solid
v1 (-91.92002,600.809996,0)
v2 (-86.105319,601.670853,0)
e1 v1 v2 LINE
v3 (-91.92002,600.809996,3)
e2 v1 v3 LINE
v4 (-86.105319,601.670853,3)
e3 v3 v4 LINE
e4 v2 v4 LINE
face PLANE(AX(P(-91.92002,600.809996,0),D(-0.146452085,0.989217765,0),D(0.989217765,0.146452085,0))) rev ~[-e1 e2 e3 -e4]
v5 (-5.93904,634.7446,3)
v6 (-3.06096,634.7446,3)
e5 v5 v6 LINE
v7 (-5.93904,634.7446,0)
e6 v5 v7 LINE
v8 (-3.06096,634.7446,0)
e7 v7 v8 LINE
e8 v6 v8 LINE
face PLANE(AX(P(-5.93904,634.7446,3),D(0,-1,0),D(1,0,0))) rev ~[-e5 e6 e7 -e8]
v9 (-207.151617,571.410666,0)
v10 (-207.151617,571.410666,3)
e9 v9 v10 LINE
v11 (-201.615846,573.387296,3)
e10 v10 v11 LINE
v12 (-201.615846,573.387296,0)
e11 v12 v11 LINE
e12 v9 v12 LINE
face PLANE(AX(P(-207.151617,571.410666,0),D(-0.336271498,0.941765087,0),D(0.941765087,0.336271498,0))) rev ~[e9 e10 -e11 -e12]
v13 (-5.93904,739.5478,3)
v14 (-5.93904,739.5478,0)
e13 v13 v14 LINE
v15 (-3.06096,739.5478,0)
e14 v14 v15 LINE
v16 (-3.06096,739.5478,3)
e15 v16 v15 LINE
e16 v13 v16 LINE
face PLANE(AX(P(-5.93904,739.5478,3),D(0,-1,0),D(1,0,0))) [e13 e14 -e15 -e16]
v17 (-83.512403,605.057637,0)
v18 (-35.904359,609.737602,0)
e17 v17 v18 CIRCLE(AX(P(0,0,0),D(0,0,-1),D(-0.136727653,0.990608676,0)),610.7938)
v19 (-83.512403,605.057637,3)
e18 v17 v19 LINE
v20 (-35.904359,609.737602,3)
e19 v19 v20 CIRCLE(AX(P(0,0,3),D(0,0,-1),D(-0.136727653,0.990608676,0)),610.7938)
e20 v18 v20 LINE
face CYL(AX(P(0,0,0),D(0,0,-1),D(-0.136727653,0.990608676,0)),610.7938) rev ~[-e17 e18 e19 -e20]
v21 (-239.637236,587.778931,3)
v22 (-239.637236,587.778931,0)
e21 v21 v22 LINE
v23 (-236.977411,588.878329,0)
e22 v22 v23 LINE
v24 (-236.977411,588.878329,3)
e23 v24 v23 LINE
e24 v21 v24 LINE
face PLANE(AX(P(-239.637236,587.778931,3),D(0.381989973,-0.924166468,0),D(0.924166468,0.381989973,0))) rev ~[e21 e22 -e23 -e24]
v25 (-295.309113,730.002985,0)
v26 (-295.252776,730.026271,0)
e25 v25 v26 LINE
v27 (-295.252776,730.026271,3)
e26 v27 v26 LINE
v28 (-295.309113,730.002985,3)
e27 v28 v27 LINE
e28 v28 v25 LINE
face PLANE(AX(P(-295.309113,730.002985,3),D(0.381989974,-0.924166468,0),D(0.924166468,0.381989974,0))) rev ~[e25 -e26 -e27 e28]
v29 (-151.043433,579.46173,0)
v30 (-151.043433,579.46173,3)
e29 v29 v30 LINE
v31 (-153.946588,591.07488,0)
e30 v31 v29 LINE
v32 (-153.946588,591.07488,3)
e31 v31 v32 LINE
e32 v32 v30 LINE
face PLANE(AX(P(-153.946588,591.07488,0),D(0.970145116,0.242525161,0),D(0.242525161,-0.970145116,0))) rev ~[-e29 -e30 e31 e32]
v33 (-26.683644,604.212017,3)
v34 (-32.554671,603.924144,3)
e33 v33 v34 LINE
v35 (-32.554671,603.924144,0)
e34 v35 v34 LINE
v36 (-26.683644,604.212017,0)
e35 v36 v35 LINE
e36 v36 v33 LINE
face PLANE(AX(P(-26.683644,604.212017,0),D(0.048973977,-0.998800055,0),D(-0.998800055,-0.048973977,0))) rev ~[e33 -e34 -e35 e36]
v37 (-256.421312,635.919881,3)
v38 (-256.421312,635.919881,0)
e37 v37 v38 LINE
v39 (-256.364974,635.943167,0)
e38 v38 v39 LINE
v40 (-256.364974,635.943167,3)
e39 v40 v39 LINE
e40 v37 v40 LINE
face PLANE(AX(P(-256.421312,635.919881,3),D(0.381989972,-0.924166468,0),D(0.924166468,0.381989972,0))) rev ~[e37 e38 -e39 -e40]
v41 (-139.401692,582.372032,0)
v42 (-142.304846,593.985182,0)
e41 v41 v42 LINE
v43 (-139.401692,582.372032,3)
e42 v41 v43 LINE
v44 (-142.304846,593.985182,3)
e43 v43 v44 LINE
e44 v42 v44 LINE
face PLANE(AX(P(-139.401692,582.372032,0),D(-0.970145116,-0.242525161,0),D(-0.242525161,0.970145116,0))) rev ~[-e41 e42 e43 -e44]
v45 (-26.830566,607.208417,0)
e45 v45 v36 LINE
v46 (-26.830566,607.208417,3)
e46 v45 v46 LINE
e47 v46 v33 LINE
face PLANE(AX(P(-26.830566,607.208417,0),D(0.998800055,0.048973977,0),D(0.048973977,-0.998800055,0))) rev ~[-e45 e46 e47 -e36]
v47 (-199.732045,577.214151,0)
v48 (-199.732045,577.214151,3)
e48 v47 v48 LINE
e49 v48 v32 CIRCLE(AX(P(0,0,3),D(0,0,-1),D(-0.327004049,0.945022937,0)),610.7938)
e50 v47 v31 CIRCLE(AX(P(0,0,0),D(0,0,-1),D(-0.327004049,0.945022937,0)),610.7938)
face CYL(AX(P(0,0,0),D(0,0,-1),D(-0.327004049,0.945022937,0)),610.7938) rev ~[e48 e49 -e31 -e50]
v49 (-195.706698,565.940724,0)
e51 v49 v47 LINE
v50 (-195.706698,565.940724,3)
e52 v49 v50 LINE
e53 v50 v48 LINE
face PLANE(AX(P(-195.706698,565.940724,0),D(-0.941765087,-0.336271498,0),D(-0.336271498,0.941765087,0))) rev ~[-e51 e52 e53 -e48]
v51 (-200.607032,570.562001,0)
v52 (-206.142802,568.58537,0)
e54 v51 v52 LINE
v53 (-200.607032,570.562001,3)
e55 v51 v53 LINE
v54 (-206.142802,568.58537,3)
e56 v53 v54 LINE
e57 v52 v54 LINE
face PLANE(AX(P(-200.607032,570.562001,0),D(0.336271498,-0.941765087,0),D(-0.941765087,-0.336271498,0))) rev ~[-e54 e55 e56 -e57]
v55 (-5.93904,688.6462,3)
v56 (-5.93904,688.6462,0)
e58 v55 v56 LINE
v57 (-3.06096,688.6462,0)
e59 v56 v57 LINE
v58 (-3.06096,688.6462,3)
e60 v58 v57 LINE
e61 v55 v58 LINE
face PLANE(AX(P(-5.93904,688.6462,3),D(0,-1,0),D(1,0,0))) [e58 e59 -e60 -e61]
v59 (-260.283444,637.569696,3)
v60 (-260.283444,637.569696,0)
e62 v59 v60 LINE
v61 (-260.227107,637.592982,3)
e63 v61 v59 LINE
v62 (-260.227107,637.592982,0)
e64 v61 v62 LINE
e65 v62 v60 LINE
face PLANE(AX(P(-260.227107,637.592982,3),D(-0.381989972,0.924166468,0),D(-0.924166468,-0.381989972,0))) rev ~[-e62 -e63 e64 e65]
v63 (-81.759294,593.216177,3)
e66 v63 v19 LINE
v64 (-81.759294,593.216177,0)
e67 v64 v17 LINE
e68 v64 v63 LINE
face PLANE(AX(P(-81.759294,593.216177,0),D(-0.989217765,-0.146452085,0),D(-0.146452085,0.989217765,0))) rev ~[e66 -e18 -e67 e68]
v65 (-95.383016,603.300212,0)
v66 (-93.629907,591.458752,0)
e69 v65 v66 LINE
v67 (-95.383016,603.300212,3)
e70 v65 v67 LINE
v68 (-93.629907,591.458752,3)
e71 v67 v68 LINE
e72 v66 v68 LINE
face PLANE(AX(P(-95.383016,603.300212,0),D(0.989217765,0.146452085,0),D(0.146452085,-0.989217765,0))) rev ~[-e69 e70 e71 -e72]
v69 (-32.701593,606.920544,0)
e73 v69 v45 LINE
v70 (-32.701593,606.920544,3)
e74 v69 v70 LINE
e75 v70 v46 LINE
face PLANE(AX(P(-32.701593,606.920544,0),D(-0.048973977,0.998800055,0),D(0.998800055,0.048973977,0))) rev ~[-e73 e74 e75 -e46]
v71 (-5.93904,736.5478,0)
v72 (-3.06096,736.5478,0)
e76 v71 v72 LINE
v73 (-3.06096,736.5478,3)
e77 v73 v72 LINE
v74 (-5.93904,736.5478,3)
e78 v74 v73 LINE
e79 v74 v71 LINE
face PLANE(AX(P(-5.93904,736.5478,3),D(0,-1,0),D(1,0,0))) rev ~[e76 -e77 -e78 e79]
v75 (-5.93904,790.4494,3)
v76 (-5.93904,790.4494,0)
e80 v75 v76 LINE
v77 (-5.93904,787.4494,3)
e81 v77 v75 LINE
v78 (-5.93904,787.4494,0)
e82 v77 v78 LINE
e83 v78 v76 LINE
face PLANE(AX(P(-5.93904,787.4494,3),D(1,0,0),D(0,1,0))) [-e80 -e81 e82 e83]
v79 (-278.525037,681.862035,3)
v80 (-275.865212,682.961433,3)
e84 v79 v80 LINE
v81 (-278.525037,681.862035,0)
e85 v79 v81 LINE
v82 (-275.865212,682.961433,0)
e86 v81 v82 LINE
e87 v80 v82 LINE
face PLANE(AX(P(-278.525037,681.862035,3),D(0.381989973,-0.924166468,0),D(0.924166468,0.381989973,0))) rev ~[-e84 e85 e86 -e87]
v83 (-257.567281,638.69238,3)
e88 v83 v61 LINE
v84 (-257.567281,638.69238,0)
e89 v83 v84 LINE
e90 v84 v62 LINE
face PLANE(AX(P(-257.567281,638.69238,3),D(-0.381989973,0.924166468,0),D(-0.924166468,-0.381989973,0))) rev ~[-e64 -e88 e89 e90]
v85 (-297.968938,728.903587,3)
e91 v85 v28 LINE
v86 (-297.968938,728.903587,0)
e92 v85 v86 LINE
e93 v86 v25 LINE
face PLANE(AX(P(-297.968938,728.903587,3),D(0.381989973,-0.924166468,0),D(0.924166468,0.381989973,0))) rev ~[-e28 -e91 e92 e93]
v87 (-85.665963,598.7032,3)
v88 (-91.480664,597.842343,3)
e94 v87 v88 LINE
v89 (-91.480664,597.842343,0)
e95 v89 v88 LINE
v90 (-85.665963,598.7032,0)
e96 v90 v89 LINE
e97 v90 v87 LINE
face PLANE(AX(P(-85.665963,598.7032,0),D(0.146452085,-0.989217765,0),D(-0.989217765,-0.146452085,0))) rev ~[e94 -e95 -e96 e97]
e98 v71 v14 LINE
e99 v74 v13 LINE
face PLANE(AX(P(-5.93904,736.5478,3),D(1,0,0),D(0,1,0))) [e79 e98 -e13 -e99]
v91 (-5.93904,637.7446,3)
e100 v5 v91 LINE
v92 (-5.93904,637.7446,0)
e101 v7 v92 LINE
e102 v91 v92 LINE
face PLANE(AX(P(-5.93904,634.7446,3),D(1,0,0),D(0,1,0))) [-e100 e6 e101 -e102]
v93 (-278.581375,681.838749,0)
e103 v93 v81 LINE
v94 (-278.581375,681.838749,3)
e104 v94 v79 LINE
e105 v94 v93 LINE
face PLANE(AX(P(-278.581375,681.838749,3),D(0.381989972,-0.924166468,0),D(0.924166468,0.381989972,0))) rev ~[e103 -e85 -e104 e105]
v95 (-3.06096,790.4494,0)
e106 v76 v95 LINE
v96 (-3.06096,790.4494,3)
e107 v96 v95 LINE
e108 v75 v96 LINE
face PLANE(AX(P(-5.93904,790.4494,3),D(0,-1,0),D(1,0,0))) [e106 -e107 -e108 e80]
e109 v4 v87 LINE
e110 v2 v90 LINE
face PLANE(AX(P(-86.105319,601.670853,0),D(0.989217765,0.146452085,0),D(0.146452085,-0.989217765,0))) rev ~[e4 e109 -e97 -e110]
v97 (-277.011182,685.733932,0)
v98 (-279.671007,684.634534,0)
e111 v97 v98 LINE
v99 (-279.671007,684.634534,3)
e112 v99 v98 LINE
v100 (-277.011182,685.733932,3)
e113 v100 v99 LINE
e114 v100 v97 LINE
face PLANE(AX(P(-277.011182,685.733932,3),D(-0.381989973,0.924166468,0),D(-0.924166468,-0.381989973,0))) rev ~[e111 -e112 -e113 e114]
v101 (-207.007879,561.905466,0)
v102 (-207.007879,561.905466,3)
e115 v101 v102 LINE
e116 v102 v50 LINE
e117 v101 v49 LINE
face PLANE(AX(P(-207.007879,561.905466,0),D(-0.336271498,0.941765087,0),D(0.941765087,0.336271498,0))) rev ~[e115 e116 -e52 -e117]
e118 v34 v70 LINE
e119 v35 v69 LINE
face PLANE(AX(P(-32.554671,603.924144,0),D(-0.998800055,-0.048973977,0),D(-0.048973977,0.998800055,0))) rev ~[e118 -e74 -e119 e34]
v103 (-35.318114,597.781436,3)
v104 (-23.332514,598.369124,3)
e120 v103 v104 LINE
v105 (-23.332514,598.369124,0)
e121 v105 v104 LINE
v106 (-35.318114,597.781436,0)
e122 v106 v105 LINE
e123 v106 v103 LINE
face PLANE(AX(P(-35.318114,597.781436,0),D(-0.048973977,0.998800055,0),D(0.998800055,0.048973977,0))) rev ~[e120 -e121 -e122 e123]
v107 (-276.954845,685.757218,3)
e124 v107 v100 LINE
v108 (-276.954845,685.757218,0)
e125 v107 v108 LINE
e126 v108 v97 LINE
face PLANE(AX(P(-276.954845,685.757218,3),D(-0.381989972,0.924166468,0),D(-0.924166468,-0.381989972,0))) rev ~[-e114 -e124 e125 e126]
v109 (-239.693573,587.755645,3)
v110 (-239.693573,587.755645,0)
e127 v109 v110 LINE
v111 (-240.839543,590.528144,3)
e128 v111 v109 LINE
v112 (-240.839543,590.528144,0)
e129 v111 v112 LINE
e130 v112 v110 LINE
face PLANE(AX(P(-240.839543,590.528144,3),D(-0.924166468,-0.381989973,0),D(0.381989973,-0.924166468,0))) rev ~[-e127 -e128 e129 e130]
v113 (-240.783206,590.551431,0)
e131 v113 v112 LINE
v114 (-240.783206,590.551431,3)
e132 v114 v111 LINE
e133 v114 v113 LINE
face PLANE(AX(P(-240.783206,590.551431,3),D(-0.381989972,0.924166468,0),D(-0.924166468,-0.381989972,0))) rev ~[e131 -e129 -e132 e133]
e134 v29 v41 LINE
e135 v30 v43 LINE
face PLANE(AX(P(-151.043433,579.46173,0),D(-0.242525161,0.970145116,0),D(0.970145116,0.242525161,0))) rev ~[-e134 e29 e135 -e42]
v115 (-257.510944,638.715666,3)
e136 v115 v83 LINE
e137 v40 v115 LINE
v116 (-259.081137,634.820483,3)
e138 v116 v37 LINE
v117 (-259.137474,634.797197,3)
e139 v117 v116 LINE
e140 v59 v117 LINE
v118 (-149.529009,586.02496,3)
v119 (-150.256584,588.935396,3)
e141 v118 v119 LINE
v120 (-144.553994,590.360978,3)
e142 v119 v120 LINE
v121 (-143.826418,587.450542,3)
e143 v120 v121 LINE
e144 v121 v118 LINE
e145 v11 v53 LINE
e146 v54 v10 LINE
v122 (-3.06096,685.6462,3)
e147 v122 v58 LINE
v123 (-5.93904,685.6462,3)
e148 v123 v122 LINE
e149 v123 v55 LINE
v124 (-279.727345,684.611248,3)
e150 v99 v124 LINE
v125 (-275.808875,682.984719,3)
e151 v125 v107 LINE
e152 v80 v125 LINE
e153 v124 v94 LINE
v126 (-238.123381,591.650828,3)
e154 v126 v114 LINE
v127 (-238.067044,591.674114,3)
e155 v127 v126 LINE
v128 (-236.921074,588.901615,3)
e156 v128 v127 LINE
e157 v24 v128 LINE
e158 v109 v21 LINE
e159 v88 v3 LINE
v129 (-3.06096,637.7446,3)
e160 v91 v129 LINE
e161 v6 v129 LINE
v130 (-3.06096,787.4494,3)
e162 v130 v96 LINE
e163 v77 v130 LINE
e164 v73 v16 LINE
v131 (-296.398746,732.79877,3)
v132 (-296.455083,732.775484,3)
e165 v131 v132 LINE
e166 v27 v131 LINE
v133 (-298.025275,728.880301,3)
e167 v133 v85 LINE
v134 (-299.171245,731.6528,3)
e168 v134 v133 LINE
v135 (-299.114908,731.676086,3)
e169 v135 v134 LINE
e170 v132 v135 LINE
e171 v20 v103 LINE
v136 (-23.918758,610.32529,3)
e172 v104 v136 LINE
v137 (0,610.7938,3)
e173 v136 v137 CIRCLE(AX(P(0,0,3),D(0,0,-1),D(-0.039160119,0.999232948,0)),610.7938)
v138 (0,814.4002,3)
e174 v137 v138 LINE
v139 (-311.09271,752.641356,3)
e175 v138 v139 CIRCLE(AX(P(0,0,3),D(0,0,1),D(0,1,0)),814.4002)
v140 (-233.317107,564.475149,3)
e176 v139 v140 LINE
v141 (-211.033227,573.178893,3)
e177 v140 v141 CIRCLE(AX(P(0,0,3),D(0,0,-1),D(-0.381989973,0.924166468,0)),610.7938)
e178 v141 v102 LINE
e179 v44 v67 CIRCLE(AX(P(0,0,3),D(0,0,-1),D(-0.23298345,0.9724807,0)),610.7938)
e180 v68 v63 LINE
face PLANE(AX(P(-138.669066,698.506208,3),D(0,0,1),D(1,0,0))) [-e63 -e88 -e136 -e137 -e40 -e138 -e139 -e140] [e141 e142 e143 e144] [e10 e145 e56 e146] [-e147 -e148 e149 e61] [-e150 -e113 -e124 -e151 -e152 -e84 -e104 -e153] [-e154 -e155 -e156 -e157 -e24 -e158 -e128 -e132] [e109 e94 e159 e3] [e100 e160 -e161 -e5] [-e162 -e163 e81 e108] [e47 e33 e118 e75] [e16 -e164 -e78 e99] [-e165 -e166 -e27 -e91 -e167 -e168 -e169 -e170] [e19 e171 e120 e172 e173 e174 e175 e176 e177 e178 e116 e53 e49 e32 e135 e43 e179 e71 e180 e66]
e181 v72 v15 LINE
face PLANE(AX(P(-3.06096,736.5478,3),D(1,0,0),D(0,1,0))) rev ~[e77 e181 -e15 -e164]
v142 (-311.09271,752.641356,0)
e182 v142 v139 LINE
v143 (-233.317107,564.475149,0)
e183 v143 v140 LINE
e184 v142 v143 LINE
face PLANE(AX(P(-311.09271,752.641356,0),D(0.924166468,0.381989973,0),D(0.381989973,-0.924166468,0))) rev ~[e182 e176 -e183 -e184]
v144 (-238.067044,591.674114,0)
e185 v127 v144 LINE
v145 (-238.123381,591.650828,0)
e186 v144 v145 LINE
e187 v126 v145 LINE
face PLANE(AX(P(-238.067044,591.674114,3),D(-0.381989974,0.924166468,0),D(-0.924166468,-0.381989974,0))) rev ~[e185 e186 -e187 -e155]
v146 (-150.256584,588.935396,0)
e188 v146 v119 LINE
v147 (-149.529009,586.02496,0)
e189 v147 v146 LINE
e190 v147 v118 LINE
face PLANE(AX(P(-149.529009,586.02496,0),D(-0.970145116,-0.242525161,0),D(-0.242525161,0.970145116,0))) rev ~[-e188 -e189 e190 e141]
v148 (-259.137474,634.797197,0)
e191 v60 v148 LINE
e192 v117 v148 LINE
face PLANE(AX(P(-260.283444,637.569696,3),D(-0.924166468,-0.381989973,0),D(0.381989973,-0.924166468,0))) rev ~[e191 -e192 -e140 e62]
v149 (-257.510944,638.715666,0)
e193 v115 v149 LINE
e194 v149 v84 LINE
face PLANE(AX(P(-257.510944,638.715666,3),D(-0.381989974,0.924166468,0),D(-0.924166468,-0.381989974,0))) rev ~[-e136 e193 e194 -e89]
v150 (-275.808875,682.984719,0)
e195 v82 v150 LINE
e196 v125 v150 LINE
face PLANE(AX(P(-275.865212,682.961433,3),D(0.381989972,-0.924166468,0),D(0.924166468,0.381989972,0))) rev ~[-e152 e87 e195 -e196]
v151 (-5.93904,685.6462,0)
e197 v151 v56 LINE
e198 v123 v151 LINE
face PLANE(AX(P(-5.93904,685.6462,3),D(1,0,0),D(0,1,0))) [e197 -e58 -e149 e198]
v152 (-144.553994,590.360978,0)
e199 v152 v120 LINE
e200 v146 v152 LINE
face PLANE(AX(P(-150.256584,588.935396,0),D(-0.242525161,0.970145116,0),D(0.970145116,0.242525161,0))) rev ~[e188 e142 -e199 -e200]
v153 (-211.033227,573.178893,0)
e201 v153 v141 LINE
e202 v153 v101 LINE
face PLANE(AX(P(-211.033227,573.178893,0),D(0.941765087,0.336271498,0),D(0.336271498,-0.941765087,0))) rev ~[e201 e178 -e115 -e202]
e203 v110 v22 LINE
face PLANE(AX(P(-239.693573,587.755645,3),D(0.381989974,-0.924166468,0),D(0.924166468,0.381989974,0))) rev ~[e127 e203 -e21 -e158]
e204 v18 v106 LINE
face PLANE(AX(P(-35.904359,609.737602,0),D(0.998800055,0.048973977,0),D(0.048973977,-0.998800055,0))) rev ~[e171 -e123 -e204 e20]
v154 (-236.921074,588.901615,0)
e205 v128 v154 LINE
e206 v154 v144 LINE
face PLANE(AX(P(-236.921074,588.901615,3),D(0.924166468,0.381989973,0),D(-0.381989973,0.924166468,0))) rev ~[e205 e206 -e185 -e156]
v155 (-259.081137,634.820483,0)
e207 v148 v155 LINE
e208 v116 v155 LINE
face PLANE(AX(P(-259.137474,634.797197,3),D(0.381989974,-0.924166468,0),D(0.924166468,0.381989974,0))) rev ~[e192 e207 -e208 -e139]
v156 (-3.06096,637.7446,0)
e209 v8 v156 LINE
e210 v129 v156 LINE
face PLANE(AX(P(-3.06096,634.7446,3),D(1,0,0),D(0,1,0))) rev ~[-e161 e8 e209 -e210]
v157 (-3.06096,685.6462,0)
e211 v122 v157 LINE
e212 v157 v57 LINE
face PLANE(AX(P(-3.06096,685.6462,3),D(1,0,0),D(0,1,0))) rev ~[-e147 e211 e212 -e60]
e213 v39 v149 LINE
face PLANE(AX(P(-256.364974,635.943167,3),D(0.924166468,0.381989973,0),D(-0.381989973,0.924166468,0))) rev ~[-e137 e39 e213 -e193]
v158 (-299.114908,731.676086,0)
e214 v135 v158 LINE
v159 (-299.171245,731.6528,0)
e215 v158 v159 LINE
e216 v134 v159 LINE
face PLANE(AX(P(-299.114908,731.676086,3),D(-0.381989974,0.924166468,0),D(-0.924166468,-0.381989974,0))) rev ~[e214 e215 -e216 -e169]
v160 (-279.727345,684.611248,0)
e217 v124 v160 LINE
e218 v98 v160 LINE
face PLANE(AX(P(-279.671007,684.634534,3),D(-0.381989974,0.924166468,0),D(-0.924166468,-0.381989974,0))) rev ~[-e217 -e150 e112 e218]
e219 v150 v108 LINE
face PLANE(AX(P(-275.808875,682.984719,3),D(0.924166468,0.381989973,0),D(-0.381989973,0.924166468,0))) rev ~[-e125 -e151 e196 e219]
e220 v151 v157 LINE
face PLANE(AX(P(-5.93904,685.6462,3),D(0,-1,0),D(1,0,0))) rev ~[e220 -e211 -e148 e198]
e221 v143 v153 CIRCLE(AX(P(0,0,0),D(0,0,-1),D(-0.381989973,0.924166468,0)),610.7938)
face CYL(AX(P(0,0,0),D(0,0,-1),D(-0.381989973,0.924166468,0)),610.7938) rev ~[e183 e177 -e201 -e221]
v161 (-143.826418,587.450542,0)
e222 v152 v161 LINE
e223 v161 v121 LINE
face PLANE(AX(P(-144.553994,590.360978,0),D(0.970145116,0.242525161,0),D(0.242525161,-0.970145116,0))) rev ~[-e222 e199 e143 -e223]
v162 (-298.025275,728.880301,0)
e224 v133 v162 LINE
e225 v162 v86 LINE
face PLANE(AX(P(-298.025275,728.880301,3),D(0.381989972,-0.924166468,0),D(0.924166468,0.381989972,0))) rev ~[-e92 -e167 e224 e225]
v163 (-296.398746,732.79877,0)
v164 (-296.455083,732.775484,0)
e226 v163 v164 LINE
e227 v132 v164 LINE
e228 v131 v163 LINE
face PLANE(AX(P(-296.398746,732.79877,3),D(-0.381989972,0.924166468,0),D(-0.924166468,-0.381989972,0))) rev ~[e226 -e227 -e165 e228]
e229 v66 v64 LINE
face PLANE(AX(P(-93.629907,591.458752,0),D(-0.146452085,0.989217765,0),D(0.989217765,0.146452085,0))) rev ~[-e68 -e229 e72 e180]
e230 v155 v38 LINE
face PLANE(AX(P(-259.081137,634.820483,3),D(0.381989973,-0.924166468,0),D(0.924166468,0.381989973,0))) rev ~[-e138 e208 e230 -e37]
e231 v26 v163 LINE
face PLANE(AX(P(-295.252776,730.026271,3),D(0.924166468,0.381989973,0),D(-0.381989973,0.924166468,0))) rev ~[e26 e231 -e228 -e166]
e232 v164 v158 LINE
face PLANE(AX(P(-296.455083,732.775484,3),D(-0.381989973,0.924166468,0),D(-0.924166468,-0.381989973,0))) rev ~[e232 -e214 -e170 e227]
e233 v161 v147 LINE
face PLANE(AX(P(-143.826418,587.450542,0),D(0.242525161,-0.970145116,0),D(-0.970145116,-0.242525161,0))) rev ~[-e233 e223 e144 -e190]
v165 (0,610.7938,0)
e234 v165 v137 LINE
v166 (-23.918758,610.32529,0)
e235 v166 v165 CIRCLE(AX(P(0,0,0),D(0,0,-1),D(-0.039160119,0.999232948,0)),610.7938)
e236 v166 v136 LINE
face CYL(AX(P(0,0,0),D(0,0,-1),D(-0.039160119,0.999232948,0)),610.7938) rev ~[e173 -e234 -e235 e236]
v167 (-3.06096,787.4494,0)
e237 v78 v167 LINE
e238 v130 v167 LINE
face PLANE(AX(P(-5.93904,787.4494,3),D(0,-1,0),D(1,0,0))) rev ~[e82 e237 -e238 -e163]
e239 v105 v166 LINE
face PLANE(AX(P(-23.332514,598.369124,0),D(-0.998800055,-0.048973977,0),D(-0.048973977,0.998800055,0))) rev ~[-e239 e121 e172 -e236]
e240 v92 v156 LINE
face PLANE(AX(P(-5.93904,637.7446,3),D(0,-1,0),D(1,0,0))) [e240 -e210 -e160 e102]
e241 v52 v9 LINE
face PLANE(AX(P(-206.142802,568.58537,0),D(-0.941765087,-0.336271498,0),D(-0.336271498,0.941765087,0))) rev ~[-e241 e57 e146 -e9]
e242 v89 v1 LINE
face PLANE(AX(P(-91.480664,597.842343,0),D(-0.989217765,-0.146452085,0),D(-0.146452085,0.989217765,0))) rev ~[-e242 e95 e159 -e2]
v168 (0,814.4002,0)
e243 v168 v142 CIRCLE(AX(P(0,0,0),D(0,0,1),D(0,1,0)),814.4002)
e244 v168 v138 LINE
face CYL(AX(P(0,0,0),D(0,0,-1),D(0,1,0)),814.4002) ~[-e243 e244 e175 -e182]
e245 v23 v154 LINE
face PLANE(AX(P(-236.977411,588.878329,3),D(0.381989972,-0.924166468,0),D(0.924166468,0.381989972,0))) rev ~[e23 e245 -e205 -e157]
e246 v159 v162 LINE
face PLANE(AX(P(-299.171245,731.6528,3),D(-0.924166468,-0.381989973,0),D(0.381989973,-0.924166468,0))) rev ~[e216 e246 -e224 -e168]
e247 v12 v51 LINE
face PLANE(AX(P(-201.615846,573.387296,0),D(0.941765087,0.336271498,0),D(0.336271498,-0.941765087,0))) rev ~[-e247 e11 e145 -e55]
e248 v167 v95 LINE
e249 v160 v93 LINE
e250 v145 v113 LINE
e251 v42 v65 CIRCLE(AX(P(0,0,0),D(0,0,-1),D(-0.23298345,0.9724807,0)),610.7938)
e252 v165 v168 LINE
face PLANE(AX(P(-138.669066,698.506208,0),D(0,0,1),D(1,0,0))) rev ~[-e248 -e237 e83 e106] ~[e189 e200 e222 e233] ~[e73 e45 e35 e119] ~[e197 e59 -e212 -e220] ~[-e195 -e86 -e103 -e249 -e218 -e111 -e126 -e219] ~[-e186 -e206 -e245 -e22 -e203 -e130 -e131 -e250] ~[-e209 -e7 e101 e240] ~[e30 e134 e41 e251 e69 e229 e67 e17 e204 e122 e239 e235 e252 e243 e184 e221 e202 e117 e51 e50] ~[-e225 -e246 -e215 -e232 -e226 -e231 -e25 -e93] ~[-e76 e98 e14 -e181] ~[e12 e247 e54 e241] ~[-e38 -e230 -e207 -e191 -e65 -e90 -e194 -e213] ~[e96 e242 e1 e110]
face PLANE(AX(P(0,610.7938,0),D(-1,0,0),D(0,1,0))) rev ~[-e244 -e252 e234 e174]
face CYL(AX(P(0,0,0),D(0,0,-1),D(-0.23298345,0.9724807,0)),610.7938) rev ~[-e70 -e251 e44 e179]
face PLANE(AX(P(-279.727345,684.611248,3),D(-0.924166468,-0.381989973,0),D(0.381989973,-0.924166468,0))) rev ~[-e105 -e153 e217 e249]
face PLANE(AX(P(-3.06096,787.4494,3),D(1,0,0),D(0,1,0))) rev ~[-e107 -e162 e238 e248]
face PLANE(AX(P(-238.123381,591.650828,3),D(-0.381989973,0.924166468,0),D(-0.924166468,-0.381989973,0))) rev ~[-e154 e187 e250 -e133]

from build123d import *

# Parameters (mm, degrees)
F1_DEPTH = 3
F2_W     = 2.87808
F2_H     = 3
F2_W_2   = 0.06096
F3_DEPTH = 3.001


with BuildPart() as f1:
    # F0 (on Top) → F1 (new body)
    with BuildSketch(Plane.XY):
        with BuildLine():
            Line((0, 610.7938), (0, 814.4002))
            ThreePointArc((0, 814.4002), (-158.581862972, 798.8112909169), (-311.092710136, 752.6413564642))
            Line((-311.092710136, 752.6413564642), (-233.3171069657, 564.4751488911))
            ThreePointArc((-233.3171069657, 564.4751488911), (-222.21778397, 568.9361322731), (-211.0332265418, 573.1788930289))
            Line((-211.0332265418, 573.1788930289), (-211.0431366506, 573.2066473717))
            Line((-211.0431366506, 573.2066473717), (-205.3925469131, 575.2242760793))
            Line((-205.3925469131, 575.2242760793), (-199.7419556033, 577.2419053483))
            Line((-199.7419556033, 577.2419053483), (-199.7320454946, 577.2141510055))
            ThreePointArc((-199.7320454946, 577.2141510055), (-176.9750657056, 584.592928658), (-153.9465878827, 591.0748803643))
            Line((-153.9465878827, 591.0748803643), (-153.9537352346, 591.1034710825))
            Line((-153.9537352346, 591.1034710825), (-148.1328657869, 592.5586217348))
            Line((-148.1328657869, 592.5586217348), (-142.3119938407, 594.0137730116))
            Line((-142.3119938407, 594.0137730116), (-142.3048464889, 593.9851822935))
            ThreePointArc((-142.3048464889, 593.9851822935), (-118.9351607425, 599.1022397368), (-95.3830161725, 603.3002124517))
            Line((-95.3830161725, 603.3002124517), (-95.3873321972, 603.3293652515))
            Line((-95.3873321972, 603.3293652515), (-89.4520324924, 604.2080767429))
            Line((-89.4520324924, 604.2080767429), (-83.5167190162, 605.0867902733))
            Line((-83.5167190162, 605.0867902733), (-83.5124029915, 605.0576374735))
            ThreePointArc((-83.5124029915, 605.0576374735), (-59.7542154208, 607.8638826727), (-35.9043587106, 609.7376018781))
            Line((-35.9043587105, 609.7376018781), (-35.905802001, 609.7670370733))
            Line((-35.905802001, 609.7670370733), (-29.9129956796, 610.0608812306))
            Line((-29.9129956796, 610.0608812306), (-23.9202013429, 610.3547248004))
            Line((-23.9202013429, 610.3547248004), (-23.9187580524, 610.3252896052))
            ThreePointArc((-23.9187580524, 610.3252896052), (-11.9616730515, 610.6766611688), (0, 610.7938))
        make_face()
        with BuildLine():
            Line((-23.3325136158, 598.3691241423), (-23.9187580524, 610.3252896052))
            ThreePointArc((-23.9187580524, 610.3252896052), (-26.9162015413, 610.2004459299), (-29.9129956796, 610.0608812306))
            ThreePointArc((-29.9129956796, 610.0608812306), (-32.9090741607, 609.9065985512), (-35.9043587106, 609.7376018781))
            Line((-35.9043587105, 609.7376018781), (-35.3181142739, 597.7814364152))
            Line((-35.3181142739, 597.7814364152), (-23.3325136158, 598.3691241423))
        make_face()
        Polygon((-32.7015930533, 606.9205442942), (-26.830566427, 607.2084172504), (-26.6836444952, 604.2120170859), (-32.5546711216, 603.9241441296), align=None, mode=Mode.SUBTRACT)
        with BuildLine():
            ThreePointArc((-29.9129956796, 610.0608812306), (-26.9162015413, 610.2004459299), (-23.9187580524, 610.3252896052))
            Line((-23.9187580524, 610.3252896052), (-23.9202013429, 610.3547248004))
            Line((-23.9202013429, 610.3547248004), (-29.9129956796, 610.0608812306))
        make_face()
        with BuildLine():
            ThreePointArc((-35.9043587106, 609.7376018781), (-32.9090741607, 609.9065985512), (-29.9129956796, 610.0608812306))
            Line((-29.9129956796, 610.0608812306), (-35.905802001, 609.7670370733))
            Line((-35.905802001, 609.7670370733), (-35.9043587105, 609.7376018781))
        make_face()
        with BuildLine():
            Line((-211.0431366506, 573.2066473717), (-211.0332265418, 573.1788930289))
            ThreePointArc((-211.0332265418, 573.1788930289), (-208.2153983194, 574.2085109271), (-205.3925469131, 575.2242760793))
            Line((-205.3925469131, 575.2242760793), (-211.0431366506, 573.2066473717))
        make_face()
        with BuildLine():
            ThreePointArc((-205.3925469131, 575.2242760793), (-208.2153983194, 574.2085109271), (-211.0332265418, 573.1788930289))
            Line((-211.0332265418, 573.1788930289), (-207.0078786739, 561.9054663245))
            Line((-207.0078786739, 561.9054663245), (-195.7066976267, 565.9407243011))
            Line((-195.7066976267, 565.9407243011), (-199.7320454946, 577.2141510055))
            ThreePointArc((-199.7320454946, 577.2141510055), (-202.5647396363, 576.2261642572), (-205.3925469131, 575.2242760793))
        make_face()
        Polygon((-207.1516168949, 571.4106657146), (-201.6158463707, 573.3872964819), (-200.6070318766, 570.5620012201), (-206.1428024007, 568.5853704528), align=None, mode=Mode.SUBTRACT)
        with BuildLine():
            Line((-199.7419556033, 577.2419053483), (-205.3925469131, 575.2242760793))
            ThreePointArc((-205.3925469131, 575.2242760793), (-202.5647396363, 576.2261642572), (-199.7320454946, 577.2141510055))
            Line((-199.7320454946, 577.2141510055), (-199.7419556033, 577.2419053483))
        make_face()
        with BuildLine():
            Line((-81.7592939944, 593.2161770923), (-83.5124029915, 605.0576374735))
            ThreePointArc((-83.5124029915, 605.0576374735), (-86.4832609464, 604.6401505809), (-89.4520324924, 604.2080767429))
            ThreePointArc((-89.4520324924, 604.2080767429), (-92.4186391273, 603.7614274366), (-95.3830161725, 603.3002124517))
            Line((-95.3830161725, 603.3002124517), (-93.6299071754, 591.4587520705))
            Line((-93.6299071754, 591.4587520705), (-81.7592939944, 593.2161770923))
        make_face()
        Polygon((-91.9200199316, 600.8099959308), (-86.105318771, 601.6708530035), (-85.6659625155, 598.7031997082), (-91.4806636761, 597.8423426355), align=None, mode=Mode.SUBTRACT)
        with BuildLine():
            ThreePointArc((-89.4520324924, 604.2080767429), (-86.4832609464, 604.6401505809), (-83.5124029915, 605.0576374735))
            Line((-83.5124029915, 605.0576374735), (-83.5167190162, 605.0867902733))
            Line((-83.5167190162, 605.0867902733), (-89.4520324924, 604.2080767429))
        make_face()
        with BuildLine():
            ThreePointArc((-95.3830161725, 603.3002124517), (-92.4186391273, 603.7614274366), (-89.4520324924, 604.2080767429))
            Line((-89.4520324924, 604.2080767429), (-95.3873321972, 603.3293652515))
            Line((-95.3873321972, 603.3293652515), (-95.3830161725, 603.3002124517))
        make_face()
        with BuildLine():
            Line((-153.9537352346, 591.1034710825), (-153.9465878827, 591.0748803643))
            ThreePointArc((-153.9465878827, 591.0748803643), (-151.0415487687, 591.8238899064), (-148.1328657869, 592.5586217348))
            Line((-148.1328657869, 592.5586217348), (-153.9537352346, 591.1034710825))
        make_face()
        with BuildLine():
            ThreePointArc((-148.1328657869, 592.5586217348), (-151.0415487687, 591.8238899064), (-153.9465878827, 591.0748803643))
            Line((-153.9465878827, 591.0748803643), (-151.0434333054, 579.4617296886))
            Line((-151.0434333054, 579.4617296886), (-139.4016919116, 582.3720316178))
            Line((-139.4016919116, 582.3720316178), (-142.3048464889, 593.9851822935))
            ThreePointArc((-142.3048464889, 593.9851822935), (-145.2206078584, 593.2790584301), (-148.1328657869, 592.5586217348))
        make_face()
        Polygon((-150.2565843576, 588.9353955501), (-144.5539937532, 590.3609778471), (-143.8264182709, 587.4505424986), (-149.5290088753, 586.0249602016), align=None, mode=Mode.SUBTRACT)
        with BuildLine():
            Line((-142.3119938407, 594.0137730116), (-148.1328657869, 592.5586217348))
            ThreePointArc((-148.1328657869, 592.5586217348), (-145.2206078584, 593.2790584301), (-142.3048464889, 593.9851822935))
            Line((-142.3048464889, 593.9851822935), (-142.3119938407, 594.0137730116))
        make_face()
    extrude(amount=F1_DEPTH)

    # F2 (on face) → F3 (cut, through all)
    with BuildSketch(Plane.XY.offset(3)):
        with Locations((-4.5, 636.2446)):
            Rectangle(F2_W, F2_H)
        with Locations((-4.5, 687.1462)):
            Rectangle(F2_W, F2_H)
        with Locations((-4.5, 738.0478)):
            Rectangle(F2_W, F2_H)
        with Locations((-4.5, 788.9494)):
            Rectangle(F2_W, F2_H)
        with Locations((4.5, 687.1462)):
            Rectangle(F2_W, F2_H)
        with Locations((3.03048, 687.1462)):
            Rectangle(F2_W_2, F2_H)
        with Locations((5.96952, 687.1462)):
            Rectangle(F2_W_2, F2_H)
        with Locations((3.03048, 788.9494)):
            Rectangle(F2_W_2, F2_H)
        with Locations((4.5, 788.9494)):
            Rectangle(F2_W, F2_H)
        with Locations((5.96952, 788.9494)):
            Rectangle(F2_W_2, F2_H)
        with Locations((3.03048, 636.2446)):
            Rectangle(F2_W_2, F2_H)
        with Locations((4.5, 636.2446)):
            Rectangle(F2_W, F2_H)
        with Locations((5.96952, 636.2446)):
            Rectangle(F2_W_2, F2_H)
        with Locations((3.03048, 738.0478)):
            Rectangle(F2_W_2, F2_H)
        with Locations((4.5, 738.0478)):
            Rectangle(F2_W, F2_H)
        with Locations((5.96952, 738.0478)):
            Rectangle(F2_W_2, F2_H)
        Polygon((-260.2834437092, 637.5696963512), (-259.1374737912, 634.7971969468), (-259.0811366033, 634.8204830556), (-260.2271065213, 637.5929824599), align=None)
        Polygon((-260.2271065213, 637.5929824599), (-259.0811366033, 634.8204830556), (-256.4213115748, 635.9198807561), (-257.5672814928, 638.6923801604), align=None)
        Polygon((-257.5672814928, 638.6923801604), (-256.4213115748, 635.9198807561), (-256.3649743869, 635.9431668648), (-257.5109443049, 638.7156662692), align=None)
        Polygon((-278.5250373959, 681.8620349488), (-279.6710073139, 684.6345343532), (-279.7273445018, 684.6112482444), (-278.5813745838, 681.8387488401), align=None)
        Polygon((-277.0111822853, 685.7339320537), (-279.6710073139, 684.6345343532), (-278.5250373959, 681.8620349488), (-275.8652123674, 682.9614326494), align=None)
        Polygon((-276.9548450974, 685.7572181624), (-277.0111822853, 685.7339320537), (-275.8652123674, 682.9614326494), (-275.8088751795, 682.9847187581), align=None)
        Polygon((-299.1712452944, 731.6528001377), (-298.0252753764, 728.8803007334), (-297.9689381885, 728.9035868421), (-299.1149081065, 731.6760862465), align=None)
        Polygon((-299.1149081065, 731.6760862465), (-297.9689381885, 728.9035868421), (-295.3091131599, 730.0029845426), (-296.4550830779, 732.775483947), align=None)
        Polygon((-296.4550830779, 732.775483947), (-295.3091131599, 730.0029845426), (-295.252775972, 730.0262706514), (-296.39874589, 732.7987700557), align=None)
        Polygon((-239.6935729986, 587.7556450535), (-239.6372358107, 587.7789311623), (-240.7832057287, 590.5514305666), (-240.8395429166, 590.5281444579), align=None)
        Polygon((-240.7832057287, 590.5514305666), (-239.6372358107, 587.7789311623), (-236.9774107822, 588.8783288628), (-238.1233807002, 591.6508282671), align=None)
        Polygon((-238.1233807002, 591.6508282671), (-236.9774107822, 588.8783288628), (-236.9210735943, 588.9016149715), (-238.0670435123, 591.6741143759), align=None)
    extrude(amount=-F3_DEPTH, mode=Mode.SUBTRACT)


solid = f1.part
